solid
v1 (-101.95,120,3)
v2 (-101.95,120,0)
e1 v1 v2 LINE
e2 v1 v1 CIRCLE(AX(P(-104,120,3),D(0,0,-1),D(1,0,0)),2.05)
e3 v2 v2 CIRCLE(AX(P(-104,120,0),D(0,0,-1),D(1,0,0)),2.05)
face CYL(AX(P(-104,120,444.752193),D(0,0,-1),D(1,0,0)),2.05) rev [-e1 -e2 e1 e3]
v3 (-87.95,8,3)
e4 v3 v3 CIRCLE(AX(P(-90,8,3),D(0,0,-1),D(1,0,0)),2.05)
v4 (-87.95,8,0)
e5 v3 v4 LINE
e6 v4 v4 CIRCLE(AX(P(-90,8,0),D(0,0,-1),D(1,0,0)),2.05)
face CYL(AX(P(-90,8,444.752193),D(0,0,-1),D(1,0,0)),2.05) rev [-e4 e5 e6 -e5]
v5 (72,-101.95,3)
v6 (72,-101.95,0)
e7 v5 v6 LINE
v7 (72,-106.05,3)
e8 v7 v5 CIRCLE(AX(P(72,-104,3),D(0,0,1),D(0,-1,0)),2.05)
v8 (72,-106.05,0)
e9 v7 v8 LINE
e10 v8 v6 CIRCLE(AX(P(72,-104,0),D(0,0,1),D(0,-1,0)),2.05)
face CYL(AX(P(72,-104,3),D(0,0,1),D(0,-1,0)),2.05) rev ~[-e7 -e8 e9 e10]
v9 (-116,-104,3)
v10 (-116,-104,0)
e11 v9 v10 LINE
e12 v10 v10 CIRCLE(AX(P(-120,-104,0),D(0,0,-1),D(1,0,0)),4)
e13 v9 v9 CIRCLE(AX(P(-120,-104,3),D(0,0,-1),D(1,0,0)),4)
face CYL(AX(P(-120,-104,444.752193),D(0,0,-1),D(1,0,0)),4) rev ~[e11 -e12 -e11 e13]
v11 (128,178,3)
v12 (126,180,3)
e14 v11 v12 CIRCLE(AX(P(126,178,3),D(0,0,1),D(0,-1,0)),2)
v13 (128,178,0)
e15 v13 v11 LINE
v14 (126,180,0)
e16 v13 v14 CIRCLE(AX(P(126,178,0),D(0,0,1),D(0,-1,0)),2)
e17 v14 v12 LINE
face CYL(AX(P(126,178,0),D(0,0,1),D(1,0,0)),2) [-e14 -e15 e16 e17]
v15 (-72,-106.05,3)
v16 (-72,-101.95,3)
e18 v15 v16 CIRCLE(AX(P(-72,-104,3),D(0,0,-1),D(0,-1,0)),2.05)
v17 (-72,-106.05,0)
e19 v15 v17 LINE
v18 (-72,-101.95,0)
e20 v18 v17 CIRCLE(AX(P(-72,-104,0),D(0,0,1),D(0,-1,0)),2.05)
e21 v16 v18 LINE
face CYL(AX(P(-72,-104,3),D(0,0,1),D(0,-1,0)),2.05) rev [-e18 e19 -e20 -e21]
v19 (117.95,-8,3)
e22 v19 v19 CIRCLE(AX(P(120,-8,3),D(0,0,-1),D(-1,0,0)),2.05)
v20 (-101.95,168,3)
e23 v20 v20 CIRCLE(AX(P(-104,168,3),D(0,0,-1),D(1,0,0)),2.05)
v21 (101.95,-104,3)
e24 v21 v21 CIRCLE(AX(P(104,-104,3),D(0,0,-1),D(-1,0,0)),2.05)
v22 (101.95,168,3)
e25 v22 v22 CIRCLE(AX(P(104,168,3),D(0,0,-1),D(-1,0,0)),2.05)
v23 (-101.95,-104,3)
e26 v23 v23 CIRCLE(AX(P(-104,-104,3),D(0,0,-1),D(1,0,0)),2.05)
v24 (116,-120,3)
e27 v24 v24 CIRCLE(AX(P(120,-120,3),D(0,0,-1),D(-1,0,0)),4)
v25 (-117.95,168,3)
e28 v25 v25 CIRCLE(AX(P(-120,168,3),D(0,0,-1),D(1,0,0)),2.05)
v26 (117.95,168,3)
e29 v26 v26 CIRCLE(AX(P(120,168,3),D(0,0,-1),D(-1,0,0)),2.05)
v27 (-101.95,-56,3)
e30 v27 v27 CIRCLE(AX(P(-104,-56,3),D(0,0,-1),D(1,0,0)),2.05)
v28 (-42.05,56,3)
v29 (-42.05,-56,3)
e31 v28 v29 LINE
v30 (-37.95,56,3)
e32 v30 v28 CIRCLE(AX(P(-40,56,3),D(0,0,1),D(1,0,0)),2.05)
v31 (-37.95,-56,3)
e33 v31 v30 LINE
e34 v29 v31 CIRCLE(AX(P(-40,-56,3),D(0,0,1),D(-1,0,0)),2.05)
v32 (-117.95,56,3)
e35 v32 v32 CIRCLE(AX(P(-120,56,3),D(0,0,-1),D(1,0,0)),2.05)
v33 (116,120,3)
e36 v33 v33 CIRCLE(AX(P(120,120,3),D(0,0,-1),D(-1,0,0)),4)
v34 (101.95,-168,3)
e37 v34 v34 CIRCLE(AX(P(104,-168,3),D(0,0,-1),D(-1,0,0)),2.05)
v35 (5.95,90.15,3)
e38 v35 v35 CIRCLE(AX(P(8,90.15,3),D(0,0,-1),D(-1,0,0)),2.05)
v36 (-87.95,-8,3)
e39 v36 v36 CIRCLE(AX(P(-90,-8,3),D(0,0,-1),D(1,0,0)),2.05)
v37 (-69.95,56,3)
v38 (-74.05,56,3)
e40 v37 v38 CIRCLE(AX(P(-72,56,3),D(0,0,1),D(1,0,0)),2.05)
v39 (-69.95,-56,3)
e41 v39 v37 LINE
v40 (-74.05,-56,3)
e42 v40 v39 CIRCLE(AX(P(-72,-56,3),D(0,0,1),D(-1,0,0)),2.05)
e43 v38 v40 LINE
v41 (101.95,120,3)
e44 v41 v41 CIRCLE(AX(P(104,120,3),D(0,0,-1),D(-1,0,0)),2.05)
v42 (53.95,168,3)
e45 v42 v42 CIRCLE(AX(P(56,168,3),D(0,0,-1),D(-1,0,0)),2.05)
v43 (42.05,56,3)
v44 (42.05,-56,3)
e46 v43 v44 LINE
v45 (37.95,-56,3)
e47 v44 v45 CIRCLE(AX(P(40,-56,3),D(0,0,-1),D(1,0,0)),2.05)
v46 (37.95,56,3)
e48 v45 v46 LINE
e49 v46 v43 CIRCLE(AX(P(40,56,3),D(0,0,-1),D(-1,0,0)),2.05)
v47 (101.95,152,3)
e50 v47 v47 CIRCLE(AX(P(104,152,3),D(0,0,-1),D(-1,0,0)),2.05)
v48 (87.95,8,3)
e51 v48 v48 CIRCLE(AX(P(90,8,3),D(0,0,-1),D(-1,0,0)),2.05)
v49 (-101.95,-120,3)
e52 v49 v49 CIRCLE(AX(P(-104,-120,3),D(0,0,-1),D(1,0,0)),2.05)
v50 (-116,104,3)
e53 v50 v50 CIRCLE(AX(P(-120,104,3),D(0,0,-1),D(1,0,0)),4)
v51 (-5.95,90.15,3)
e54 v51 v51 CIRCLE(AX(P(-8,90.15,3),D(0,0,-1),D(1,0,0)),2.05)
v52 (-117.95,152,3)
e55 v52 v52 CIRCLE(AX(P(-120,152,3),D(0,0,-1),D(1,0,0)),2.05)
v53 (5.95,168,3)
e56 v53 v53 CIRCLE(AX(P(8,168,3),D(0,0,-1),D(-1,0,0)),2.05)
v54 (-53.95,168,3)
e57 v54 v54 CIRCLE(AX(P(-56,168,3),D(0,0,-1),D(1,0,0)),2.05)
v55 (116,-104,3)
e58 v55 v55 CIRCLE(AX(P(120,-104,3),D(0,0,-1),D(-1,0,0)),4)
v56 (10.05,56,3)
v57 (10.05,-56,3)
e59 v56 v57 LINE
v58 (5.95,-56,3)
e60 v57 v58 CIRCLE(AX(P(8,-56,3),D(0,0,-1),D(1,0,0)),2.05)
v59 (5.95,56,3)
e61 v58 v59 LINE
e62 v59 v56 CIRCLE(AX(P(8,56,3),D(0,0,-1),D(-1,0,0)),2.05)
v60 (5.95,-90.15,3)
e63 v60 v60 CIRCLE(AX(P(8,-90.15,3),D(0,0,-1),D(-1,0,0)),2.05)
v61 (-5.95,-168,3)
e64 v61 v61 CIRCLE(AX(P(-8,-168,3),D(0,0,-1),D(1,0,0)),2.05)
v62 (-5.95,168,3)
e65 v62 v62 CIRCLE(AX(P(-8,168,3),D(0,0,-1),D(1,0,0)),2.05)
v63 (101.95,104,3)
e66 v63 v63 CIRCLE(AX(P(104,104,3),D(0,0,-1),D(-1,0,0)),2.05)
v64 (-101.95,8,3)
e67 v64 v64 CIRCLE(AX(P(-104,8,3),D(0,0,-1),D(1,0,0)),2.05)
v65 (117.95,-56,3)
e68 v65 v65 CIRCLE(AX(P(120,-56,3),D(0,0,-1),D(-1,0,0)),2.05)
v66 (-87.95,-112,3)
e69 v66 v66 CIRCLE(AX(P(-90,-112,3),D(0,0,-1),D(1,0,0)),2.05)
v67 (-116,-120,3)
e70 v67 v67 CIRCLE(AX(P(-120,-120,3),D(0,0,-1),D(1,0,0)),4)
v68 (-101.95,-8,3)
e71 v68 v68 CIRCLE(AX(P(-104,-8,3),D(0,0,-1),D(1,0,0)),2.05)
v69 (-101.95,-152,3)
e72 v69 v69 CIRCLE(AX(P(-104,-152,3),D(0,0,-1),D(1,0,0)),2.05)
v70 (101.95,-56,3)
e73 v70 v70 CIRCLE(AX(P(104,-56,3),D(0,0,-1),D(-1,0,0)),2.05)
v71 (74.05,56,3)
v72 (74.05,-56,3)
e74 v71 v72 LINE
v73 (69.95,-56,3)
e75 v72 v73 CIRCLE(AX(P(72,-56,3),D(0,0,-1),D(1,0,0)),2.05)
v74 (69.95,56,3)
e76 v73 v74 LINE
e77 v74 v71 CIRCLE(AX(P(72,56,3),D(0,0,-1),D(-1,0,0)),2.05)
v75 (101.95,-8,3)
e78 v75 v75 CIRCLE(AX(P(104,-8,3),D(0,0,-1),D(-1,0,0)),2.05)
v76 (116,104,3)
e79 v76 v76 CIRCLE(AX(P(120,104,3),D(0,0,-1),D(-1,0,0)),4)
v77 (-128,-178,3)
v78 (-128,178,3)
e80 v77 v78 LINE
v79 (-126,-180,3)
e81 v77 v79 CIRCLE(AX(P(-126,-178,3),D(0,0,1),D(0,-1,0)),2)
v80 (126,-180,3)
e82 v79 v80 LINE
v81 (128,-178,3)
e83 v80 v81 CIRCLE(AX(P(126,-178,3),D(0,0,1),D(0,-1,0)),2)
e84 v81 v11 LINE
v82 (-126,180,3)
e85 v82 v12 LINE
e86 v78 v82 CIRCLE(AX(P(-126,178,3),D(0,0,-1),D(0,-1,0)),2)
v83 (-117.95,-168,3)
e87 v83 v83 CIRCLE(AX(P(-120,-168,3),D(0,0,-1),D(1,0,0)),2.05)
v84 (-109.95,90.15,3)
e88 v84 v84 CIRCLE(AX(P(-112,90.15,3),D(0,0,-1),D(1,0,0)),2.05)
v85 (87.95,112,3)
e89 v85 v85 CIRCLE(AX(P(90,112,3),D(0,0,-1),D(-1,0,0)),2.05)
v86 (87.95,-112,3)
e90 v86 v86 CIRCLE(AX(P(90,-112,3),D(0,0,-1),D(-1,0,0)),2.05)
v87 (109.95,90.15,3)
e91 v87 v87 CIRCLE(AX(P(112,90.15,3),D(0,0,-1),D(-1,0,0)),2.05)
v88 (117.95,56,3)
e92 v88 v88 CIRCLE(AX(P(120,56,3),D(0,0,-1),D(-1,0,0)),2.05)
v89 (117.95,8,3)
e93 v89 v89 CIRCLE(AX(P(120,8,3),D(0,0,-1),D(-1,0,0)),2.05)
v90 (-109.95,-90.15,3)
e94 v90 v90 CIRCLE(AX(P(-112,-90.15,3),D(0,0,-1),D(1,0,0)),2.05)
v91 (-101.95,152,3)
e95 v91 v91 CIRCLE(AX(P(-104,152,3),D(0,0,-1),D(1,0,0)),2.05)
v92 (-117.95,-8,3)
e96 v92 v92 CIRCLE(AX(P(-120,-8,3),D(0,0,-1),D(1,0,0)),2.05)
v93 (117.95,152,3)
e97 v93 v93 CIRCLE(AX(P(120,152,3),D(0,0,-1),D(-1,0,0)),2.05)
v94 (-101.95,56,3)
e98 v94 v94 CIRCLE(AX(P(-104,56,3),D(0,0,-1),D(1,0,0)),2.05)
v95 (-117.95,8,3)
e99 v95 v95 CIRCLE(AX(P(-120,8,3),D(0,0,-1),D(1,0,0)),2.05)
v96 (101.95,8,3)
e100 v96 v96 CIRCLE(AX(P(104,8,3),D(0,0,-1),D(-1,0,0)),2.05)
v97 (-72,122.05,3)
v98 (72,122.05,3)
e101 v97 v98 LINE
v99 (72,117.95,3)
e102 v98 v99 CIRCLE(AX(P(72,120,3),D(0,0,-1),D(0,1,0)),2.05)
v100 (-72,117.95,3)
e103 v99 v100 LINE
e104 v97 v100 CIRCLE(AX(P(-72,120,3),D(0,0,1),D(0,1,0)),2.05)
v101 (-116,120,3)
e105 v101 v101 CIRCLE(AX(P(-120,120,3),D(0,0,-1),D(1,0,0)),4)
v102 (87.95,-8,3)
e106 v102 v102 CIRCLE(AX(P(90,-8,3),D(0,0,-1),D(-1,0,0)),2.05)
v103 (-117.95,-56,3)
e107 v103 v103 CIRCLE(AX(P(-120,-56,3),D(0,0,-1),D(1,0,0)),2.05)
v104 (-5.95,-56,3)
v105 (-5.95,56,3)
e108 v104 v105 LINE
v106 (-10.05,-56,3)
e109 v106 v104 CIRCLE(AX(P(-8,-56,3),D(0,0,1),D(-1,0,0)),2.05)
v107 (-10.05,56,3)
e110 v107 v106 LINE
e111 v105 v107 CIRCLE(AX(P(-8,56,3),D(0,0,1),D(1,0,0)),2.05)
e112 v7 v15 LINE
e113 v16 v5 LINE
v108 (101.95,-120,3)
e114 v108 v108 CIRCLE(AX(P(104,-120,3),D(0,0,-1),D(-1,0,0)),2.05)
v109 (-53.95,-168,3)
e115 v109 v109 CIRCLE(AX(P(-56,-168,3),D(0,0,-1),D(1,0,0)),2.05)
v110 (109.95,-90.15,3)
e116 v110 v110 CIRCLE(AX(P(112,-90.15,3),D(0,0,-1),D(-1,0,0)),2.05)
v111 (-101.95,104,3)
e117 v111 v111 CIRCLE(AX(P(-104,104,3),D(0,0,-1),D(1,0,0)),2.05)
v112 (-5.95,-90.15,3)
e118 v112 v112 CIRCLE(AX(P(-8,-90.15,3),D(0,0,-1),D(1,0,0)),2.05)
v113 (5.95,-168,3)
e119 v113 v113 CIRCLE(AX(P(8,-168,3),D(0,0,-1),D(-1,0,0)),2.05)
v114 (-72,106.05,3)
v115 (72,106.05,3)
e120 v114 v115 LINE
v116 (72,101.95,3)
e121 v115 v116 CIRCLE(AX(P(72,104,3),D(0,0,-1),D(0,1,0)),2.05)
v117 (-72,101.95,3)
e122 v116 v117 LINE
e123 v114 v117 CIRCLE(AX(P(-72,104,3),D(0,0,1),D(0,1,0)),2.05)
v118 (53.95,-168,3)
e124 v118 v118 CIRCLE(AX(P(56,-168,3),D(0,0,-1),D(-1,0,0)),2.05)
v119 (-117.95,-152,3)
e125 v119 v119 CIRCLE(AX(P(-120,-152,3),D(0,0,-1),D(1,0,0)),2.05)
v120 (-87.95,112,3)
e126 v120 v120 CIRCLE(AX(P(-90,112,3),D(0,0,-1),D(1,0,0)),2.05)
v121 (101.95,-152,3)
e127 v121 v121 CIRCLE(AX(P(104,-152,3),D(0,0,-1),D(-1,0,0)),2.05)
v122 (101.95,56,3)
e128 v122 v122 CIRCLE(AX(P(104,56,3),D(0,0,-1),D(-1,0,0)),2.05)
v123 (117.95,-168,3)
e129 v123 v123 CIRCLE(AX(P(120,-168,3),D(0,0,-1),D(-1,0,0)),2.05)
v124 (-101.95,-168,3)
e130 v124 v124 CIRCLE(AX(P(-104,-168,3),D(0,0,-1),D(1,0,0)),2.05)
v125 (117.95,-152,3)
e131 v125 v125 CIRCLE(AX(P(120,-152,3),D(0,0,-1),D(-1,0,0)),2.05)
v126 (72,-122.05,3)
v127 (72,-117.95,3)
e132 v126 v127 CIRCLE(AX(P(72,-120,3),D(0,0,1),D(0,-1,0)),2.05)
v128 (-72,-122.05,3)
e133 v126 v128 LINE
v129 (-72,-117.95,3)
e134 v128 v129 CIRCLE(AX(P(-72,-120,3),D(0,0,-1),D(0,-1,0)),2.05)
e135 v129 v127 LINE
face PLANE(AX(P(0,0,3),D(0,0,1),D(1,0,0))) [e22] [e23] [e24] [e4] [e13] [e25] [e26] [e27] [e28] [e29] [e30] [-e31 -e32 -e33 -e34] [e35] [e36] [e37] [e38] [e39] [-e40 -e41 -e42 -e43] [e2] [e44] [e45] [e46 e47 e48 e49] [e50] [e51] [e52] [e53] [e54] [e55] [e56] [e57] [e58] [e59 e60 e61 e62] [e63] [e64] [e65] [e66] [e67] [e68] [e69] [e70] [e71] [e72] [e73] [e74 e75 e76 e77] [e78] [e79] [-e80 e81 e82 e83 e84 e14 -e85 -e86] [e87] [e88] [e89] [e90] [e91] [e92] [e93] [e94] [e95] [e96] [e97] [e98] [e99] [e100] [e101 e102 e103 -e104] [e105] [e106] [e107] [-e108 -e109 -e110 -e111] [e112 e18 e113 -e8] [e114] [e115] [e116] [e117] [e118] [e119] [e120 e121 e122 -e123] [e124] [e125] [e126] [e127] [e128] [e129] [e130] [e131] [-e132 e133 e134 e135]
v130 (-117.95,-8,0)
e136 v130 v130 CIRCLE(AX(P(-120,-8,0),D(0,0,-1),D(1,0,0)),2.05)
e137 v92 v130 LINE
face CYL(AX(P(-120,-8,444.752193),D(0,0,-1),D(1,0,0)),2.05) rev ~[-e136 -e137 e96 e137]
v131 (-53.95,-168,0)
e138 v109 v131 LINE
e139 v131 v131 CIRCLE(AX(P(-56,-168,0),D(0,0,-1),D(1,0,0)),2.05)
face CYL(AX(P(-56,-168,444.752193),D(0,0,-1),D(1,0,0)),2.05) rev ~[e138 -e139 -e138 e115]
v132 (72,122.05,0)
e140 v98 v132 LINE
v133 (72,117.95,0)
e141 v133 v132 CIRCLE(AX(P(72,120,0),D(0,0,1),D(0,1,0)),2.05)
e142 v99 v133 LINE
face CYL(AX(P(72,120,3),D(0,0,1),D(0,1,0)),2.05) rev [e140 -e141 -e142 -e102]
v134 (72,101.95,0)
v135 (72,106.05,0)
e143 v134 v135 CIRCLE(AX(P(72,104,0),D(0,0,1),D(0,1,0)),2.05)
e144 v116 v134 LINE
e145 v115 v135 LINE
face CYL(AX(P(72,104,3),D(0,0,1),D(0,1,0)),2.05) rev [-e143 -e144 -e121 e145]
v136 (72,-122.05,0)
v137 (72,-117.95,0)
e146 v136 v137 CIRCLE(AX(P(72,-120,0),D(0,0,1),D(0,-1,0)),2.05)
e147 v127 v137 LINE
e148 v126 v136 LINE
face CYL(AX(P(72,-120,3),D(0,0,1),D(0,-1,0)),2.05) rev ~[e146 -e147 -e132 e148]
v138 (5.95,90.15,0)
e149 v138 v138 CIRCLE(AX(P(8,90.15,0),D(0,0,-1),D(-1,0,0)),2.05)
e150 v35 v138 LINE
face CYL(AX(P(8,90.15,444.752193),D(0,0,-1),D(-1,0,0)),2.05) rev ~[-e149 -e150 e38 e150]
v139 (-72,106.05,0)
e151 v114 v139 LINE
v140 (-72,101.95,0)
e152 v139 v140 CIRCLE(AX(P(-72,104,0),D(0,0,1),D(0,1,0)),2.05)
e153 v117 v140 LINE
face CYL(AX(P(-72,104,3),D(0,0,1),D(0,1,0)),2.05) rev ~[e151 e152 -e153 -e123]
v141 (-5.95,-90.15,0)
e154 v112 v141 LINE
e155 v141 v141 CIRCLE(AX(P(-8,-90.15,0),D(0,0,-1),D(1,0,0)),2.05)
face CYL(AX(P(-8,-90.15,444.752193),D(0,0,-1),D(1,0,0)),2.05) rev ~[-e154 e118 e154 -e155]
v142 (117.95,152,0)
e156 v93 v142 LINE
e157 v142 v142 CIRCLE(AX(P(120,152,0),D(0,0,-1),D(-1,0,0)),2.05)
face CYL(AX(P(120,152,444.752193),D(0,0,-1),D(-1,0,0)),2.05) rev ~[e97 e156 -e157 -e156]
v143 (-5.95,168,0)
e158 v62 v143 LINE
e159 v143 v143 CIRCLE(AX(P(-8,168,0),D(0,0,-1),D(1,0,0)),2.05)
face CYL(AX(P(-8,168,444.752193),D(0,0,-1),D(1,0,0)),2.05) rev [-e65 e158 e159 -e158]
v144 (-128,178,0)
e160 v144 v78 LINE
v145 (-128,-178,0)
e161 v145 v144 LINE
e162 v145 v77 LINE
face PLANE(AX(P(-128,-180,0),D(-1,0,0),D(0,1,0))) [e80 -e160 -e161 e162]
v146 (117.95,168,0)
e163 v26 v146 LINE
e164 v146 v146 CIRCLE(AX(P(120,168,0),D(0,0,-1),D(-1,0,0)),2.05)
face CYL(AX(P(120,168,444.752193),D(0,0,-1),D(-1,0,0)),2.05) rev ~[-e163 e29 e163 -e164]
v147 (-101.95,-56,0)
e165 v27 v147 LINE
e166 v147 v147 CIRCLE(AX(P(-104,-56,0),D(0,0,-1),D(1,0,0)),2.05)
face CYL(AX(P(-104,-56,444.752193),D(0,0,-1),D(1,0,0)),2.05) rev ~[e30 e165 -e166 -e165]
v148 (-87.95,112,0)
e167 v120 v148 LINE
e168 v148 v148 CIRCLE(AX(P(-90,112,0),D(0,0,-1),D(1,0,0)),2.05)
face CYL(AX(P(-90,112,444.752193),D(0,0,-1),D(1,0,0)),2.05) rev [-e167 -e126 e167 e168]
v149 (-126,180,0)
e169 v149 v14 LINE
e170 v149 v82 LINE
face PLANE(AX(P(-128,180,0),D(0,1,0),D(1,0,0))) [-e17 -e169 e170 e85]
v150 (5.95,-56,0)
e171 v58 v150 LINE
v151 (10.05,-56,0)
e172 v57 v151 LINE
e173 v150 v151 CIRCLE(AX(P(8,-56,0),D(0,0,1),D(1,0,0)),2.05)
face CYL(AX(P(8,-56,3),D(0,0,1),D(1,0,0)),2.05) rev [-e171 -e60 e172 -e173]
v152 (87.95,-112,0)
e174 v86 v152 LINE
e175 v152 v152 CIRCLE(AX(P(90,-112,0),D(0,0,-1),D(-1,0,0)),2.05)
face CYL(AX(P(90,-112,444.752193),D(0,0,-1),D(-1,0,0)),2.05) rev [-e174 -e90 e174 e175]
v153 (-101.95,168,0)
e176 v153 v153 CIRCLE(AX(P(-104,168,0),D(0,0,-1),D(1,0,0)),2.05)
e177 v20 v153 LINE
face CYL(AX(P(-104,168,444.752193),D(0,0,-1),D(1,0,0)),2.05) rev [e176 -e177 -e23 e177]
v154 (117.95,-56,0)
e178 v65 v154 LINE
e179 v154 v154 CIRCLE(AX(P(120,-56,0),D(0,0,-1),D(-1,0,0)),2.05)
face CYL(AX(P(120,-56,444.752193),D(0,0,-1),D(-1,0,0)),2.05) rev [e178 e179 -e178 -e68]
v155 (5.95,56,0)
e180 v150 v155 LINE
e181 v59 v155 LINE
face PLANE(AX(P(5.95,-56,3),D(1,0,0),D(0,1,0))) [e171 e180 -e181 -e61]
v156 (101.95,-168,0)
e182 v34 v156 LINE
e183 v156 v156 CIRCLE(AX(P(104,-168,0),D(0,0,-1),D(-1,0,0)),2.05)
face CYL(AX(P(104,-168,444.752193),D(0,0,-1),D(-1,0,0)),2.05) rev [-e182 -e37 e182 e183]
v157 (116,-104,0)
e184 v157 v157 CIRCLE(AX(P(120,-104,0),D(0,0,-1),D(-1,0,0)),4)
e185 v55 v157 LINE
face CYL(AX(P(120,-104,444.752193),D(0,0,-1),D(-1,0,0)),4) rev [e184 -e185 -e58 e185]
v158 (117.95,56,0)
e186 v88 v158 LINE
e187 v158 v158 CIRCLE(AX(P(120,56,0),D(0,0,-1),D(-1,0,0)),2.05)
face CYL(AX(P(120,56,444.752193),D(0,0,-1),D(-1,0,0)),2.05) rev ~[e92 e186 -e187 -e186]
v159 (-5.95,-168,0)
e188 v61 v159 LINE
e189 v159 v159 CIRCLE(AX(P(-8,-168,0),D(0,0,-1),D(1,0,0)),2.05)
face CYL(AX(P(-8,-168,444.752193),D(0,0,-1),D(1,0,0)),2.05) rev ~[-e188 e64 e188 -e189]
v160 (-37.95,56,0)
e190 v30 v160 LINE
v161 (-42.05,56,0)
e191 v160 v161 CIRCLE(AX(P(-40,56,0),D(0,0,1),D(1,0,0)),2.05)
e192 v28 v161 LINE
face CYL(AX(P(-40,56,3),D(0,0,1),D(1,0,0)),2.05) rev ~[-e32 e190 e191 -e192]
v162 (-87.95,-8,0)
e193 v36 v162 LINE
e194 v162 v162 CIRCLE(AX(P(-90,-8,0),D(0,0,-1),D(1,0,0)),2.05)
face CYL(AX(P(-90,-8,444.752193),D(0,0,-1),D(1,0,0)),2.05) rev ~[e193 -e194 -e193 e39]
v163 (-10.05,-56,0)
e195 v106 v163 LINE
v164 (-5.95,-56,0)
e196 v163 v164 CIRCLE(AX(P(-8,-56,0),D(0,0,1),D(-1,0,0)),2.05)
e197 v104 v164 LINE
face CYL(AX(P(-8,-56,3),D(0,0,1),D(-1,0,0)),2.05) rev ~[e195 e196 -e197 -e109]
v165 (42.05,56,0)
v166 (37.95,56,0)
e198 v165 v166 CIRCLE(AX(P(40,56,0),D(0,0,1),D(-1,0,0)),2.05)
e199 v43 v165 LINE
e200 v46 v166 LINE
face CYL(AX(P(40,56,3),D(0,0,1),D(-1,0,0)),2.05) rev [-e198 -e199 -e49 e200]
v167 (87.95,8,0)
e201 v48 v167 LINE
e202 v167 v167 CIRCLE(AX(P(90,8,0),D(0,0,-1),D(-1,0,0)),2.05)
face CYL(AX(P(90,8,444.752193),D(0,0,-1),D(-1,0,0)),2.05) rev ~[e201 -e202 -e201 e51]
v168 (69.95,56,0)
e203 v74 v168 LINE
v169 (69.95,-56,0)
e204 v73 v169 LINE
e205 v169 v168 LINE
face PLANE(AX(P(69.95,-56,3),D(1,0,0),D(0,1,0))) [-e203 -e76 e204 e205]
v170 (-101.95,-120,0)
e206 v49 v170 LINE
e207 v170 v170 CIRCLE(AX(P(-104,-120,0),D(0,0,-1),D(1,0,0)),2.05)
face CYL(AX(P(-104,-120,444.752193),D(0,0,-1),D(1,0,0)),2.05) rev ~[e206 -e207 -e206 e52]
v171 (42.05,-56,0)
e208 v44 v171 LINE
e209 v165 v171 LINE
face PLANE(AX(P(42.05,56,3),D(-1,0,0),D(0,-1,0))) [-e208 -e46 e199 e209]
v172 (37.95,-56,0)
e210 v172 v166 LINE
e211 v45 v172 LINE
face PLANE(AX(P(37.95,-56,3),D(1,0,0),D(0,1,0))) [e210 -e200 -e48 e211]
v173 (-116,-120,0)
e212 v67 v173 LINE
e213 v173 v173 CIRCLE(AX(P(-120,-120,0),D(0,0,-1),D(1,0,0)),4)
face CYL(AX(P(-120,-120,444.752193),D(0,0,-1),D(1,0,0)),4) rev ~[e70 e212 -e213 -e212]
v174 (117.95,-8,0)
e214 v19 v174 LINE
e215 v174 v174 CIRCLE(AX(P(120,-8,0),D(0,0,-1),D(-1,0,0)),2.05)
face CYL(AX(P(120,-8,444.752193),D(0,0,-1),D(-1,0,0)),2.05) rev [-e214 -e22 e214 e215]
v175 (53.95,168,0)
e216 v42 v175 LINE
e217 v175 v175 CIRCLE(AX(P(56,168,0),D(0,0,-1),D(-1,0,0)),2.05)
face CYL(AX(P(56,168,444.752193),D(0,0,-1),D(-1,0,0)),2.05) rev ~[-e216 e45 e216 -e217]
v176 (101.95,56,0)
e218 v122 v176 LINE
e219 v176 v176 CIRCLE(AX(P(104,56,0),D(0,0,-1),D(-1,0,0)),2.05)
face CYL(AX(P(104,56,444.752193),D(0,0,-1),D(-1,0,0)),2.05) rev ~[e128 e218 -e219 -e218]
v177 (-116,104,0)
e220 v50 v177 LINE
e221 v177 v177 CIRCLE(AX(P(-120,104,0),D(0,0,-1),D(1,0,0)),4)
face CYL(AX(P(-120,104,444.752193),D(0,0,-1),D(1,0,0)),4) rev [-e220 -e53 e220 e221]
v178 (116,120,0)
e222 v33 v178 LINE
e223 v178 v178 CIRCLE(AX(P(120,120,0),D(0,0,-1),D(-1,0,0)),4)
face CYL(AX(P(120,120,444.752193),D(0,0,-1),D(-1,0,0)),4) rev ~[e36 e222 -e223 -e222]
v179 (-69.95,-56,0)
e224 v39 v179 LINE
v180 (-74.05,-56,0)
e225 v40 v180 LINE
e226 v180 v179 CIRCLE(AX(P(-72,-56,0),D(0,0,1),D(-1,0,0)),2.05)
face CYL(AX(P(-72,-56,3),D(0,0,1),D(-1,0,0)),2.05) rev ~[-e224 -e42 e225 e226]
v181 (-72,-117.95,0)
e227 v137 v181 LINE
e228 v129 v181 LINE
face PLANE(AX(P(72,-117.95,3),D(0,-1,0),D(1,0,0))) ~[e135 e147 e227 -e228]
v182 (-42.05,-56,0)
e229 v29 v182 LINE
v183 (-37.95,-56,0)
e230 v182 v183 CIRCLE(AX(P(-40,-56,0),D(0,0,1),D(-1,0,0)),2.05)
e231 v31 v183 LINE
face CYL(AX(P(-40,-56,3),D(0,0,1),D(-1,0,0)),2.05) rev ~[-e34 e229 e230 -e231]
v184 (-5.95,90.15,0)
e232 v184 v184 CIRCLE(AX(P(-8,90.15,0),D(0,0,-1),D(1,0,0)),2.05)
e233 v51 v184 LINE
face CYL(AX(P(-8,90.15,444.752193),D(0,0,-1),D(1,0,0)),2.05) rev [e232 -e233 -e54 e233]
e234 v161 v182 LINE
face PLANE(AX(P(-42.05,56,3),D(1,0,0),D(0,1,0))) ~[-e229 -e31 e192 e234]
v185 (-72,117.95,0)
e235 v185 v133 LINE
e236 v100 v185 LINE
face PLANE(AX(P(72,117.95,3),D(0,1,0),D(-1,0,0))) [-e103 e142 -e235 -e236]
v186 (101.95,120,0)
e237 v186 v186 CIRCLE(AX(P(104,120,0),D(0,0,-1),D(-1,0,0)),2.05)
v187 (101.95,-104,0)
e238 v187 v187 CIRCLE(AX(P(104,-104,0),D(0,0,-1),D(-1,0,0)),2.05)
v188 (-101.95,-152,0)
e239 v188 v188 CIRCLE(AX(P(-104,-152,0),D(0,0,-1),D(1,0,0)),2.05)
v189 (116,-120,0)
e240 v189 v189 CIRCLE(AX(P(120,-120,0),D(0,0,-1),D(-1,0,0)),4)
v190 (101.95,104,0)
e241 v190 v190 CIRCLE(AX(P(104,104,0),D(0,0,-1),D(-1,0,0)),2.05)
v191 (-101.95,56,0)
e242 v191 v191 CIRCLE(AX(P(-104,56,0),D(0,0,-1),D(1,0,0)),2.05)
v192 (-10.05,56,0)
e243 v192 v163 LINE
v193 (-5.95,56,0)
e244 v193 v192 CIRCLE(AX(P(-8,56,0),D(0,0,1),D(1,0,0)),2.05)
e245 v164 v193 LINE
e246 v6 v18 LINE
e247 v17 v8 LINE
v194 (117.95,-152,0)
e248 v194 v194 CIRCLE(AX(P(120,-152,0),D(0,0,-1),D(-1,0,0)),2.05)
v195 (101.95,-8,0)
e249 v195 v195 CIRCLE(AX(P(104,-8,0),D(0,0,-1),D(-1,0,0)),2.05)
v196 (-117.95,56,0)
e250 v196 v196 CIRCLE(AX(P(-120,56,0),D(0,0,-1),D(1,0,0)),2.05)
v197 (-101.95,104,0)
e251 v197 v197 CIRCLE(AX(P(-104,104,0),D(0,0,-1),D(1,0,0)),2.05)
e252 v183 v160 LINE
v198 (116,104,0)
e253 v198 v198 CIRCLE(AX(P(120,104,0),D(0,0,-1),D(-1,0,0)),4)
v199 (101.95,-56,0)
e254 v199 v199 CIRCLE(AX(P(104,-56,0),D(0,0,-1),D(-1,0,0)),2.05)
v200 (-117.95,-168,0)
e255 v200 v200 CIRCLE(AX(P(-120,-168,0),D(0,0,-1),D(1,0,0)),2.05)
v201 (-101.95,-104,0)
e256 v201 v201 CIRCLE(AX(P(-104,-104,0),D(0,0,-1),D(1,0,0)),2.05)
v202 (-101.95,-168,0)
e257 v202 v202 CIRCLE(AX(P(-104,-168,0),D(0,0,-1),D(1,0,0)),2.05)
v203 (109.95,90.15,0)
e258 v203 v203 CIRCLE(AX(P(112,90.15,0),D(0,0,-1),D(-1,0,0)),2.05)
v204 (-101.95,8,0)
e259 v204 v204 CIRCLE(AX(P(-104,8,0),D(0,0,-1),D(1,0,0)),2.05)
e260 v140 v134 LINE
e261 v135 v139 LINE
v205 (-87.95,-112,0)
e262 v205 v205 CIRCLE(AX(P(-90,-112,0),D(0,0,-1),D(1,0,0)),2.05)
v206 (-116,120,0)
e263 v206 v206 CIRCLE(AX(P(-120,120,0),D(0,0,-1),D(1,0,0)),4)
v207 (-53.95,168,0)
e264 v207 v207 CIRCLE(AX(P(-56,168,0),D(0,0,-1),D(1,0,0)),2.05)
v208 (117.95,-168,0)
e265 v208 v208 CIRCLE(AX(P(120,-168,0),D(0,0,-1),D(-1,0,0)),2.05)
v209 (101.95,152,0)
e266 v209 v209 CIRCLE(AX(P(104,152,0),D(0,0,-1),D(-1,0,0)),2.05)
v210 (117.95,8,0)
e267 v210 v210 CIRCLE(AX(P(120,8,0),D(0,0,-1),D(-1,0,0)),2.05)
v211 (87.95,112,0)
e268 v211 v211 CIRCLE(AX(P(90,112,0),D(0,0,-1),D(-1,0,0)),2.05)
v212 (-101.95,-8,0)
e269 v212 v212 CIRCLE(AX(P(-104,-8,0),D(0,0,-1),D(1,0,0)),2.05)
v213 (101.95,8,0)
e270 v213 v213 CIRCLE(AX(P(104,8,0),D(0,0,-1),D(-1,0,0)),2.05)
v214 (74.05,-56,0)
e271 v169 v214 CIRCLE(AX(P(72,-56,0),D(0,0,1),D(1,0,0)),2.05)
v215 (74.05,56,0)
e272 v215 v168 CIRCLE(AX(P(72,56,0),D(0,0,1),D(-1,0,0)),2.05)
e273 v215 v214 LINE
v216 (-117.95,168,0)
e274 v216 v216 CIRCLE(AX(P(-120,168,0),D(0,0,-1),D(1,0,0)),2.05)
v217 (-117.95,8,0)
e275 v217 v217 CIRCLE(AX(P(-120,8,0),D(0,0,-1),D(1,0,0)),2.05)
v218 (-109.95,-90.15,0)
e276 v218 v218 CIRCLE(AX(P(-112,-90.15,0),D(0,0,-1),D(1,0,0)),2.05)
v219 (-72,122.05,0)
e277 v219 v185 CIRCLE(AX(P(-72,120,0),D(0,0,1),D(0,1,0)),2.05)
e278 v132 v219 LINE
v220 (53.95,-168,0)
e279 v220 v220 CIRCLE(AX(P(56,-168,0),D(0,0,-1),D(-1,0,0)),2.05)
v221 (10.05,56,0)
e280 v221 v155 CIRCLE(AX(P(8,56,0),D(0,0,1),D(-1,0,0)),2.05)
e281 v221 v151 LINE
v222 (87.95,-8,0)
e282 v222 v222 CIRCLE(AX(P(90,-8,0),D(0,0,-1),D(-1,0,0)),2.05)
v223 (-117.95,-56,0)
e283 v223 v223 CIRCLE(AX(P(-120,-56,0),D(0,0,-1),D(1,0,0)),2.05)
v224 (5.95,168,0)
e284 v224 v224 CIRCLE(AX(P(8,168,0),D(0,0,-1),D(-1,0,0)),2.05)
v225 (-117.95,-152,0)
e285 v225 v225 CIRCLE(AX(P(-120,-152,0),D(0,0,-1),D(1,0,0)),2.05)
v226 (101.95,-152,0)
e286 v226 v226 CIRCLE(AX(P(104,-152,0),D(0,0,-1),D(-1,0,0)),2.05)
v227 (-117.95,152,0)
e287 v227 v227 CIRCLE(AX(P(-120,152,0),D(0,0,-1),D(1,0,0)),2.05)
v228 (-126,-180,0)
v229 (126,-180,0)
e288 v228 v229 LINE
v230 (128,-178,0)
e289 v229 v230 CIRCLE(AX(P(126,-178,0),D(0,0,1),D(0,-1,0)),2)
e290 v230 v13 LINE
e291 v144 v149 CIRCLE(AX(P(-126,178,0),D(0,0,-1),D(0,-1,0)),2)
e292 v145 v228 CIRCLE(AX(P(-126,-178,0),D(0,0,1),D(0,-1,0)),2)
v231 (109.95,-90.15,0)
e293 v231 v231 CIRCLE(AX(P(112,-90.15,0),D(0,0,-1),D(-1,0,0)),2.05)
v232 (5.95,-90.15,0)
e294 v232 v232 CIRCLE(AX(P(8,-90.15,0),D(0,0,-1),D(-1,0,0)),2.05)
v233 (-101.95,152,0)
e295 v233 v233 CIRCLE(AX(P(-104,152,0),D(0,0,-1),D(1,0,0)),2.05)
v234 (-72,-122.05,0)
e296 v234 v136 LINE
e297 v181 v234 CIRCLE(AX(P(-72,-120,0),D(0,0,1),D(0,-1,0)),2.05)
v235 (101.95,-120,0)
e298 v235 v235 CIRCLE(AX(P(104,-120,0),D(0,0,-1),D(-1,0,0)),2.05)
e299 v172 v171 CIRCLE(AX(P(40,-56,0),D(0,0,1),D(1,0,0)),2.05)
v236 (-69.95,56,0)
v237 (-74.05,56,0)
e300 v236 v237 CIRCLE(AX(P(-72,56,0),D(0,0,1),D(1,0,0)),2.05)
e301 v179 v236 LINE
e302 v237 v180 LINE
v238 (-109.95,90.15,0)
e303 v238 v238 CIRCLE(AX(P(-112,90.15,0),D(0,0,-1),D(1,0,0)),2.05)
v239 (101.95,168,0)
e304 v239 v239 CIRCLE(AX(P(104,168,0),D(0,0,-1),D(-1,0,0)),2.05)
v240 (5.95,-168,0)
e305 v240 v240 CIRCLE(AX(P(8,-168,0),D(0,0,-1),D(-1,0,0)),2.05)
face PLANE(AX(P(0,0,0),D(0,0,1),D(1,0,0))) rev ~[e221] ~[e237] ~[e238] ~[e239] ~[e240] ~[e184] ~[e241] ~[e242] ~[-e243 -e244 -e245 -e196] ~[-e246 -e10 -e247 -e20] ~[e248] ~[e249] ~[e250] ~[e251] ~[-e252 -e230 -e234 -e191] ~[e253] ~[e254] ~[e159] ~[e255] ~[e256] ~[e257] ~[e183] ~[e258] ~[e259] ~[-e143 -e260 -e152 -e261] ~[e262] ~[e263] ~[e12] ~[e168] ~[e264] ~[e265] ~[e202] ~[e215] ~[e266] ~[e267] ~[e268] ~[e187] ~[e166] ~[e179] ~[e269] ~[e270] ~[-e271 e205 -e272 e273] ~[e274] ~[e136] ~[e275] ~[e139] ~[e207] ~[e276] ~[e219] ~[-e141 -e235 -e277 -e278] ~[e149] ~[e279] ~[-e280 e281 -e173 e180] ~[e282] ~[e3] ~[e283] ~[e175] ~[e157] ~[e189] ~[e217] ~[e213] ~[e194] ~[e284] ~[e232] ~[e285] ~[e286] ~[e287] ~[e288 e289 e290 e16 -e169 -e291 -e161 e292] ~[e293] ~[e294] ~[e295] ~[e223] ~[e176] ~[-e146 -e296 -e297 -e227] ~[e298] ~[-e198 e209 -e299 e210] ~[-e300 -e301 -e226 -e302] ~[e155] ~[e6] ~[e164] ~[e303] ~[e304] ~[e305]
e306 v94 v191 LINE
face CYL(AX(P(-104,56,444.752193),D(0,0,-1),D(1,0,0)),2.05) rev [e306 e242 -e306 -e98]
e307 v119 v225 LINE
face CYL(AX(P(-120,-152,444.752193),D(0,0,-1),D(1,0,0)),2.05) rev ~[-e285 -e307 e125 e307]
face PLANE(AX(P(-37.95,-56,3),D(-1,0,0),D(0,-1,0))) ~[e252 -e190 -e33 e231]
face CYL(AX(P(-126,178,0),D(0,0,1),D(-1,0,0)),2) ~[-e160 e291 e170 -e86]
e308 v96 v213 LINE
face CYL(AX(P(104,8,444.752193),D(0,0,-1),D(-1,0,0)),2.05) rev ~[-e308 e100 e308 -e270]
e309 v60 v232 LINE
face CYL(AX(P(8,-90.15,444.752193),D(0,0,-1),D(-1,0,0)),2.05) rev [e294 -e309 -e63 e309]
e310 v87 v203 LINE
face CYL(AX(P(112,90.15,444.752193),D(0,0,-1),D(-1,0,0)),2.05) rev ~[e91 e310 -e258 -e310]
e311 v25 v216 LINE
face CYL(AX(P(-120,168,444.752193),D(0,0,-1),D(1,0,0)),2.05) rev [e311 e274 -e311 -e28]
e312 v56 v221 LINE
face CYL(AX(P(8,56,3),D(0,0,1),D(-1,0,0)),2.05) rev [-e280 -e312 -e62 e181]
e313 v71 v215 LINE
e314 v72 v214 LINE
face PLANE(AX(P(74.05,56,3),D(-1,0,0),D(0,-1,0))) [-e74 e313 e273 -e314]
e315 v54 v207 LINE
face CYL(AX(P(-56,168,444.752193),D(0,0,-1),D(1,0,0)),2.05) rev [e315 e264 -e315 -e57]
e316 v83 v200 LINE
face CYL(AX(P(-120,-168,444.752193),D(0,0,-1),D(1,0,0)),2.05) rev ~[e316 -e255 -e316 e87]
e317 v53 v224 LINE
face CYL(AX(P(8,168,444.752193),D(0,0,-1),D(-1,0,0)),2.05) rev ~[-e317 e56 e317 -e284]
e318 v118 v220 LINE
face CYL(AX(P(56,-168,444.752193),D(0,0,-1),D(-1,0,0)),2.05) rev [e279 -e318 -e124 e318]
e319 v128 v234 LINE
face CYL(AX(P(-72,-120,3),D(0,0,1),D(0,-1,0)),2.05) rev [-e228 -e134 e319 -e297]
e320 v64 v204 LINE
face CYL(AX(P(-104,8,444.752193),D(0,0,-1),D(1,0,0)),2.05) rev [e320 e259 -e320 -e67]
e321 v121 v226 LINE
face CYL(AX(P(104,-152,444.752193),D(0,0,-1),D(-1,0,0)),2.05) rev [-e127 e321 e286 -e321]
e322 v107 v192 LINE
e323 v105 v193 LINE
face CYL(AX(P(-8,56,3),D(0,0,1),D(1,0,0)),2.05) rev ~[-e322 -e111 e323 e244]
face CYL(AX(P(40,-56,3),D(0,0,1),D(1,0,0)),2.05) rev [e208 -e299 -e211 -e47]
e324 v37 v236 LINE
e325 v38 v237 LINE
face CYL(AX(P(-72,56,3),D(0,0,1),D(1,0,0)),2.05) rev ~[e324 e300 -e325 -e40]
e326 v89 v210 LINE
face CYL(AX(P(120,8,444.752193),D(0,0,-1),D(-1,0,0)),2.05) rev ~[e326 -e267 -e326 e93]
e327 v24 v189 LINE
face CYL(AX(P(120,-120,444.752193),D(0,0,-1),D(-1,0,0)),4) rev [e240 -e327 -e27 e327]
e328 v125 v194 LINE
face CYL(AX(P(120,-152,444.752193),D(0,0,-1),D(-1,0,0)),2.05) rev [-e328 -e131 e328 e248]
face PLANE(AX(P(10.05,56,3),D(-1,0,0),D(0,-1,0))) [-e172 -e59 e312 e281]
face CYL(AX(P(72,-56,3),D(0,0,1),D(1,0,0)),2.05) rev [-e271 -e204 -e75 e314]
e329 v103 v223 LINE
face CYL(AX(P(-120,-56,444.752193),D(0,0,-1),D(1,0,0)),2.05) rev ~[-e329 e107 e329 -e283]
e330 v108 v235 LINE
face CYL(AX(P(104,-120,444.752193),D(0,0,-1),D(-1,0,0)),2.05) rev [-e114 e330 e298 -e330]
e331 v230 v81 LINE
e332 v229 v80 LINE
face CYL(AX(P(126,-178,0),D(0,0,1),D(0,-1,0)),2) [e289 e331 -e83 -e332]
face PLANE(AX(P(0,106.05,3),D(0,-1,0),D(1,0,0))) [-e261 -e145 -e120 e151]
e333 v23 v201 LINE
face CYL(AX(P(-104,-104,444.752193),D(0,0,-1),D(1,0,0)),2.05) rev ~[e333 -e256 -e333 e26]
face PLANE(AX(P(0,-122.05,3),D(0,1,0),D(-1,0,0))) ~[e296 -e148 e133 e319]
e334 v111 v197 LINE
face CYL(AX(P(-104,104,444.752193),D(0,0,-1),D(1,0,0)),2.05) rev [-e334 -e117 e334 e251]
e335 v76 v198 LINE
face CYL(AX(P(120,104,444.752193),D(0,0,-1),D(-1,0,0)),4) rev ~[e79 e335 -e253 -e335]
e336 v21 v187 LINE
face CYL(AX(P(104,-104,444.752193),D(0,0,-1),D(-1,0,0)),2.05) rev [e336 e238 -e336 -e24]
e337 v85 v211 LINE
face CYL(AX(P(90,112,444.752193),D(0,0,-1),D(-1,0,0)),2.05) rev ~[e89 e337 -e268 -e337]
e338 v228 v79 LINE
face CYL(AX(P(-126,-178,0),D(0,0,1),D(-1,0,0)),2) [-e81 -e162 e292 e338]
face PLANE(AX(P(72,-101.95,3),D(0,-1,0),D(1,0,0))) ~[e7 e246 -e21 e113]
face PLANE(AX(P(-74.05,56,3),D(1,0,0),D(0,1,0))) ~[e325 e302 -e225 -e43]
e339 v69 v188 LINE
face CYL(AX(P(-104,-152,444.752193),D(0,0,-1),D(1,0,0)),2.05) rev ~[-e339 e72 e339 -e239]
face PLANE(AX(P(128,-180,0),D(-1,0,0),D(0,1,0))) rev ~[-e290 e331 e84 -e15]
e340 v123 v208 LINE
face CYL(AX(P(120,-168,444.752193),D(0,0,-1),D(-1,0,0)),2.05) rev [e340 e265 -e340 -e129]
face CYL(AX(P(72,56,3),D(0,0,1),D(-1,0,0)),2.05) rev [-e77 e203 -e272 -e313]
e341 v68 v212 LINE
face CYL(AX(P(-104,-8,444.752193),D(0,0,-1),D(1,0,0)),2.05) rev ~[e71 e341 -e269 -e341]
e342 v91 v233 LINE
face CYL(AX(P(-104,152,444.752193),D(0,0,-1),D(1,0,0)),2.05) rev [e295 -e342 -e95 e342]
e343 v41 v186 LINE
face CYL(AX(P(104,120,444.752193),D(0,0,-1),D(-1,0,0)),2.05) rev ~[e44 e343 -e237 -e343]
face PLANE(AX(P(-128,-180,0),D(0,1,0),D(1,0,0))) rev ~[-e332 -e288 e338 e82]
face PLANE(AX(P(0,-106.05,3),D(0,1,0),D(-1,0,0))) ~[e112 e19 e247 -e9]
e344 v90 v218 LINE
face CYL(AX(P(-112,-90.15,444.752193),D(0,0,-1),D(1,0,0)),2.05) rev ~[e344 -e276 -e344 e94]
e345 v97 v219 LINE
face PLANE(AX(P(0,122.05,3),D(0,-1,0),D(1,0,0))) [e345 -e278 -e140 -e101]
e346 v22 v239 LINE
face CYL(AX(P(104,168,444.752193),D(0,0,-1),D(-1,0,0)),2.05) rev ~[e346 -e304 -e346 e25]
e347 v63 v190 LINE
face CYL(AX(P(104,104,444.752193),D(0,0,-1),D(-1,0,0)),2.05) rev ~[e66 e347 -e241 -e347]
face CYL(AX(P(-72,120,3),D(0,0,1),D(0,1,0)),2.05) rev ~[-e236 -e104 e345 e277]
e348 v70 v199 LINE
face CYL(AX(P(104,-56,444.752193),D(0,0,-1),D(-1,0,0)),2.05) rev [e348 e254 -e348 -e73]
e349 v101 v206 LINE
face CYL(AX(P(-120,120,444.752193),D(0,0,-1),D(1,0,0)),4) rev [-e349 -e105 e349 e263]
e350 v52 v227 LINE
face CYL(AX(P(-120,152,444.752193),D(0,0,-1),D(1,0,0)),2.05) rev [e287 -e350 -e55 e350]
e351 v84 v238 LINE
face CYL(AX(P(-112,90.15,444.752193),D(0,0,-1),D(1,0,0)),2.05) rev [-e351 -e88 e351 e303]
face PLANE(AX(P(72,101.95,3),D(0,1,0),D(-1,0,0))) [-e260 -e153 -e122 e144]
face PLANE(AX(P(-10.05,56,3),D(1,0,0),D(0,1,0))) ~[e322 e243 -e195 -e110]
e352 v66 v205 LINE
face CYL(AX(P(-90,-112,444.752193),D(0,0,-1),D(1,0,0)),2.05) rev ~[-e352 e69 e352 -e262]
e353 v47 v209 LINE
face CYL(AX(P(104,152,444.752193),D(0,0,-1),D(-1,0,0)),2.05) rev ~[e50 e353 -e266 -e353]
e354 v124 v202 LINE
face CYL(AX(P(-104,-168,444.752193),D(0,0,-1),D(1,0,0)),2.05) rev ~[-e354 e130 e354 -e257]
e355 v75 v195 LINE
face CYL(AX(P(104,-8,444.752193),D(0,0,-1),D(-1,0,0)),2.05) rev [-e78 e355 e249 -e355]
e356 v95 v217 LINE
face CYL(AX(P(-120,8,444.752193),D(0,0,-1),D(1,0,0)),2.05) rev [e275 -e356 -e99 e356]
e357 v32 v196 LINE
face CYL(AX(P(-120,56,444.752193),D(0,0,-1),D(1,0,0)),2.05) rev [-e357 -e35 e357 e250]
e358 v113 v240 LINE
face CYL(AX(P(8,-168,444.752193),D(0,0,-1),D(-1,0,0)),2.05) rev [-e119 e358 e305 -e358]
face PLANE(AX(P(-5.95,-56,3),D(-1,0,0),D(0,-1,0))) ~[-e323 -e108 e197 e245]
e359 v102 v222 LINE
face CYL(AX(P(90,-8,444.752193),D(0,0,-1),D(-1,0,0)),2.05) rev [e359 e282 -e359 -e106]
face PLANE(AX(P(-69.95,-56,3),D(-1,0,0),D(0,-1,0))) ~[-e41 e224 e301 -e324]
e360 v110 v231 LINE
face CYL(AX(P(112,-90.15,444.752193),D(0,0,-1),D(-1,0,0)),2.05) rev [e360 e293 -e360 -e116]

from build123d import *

# Parameters (mm, degrees)
SKETCH1_W                  = 256
SKETCH1_H                  = 360
BOSS_EXTRUDE1_DEPTH        = 3
FILLET1_R                  = 2
F_4_1_4_1_DIAMETER_HOLE1_D = 4.1
F_8_0_8_DIAMETER_HOLE1_D   = 8
CUT_EXTRUDE1_DEPTH         = 221.89137602
MIRROR2_COPY_1_D           = 4.1
MIRROR2_COPY_2_D           = 8
MIRROR2_COPY_3_DEPTH       = 221.89137602


with BuildPart() as part:
    # Sketch1 → Boss-Extrude1 (new body)
    with BuildSketch(Plane.XY):
        Rectangle(SKETCH1_W, SKETCH1_H)
    extrude(amount=BOSS_EXTRUDE1_DEPTH)

    # Fillet1
    fillet1_edges = [part.edges().sort_by_distance(p)[0] for p in [
        (128, -180, 1.5),
        (-128, -180, 1.5),
        (-128, 180, 1.5),
        (128, 180, 1.5),
    ]]
    fillet(fillet1_edges, radius=FILLET1_R)

    # Ø4.1 (4.1) Diameter Hole1 (through all)
    with Locations(Plane.XY.offset(3)):
        with Locations((90, 8), (120, 8), (104, 8), (104, 56), (120, 56), (104, 104), (112, 90.15), (104, 120), (90, 112), (104, 152), (120, 152), (120, 168), (104, 168), (8, 168), (56, 168), (8, 90.15)):
            f_4_1_4_1_diameter_hole1 = Hole(F_4_1_4_1_DIAMETER_HOLE1_D / 2)

    # Ø8.0 (8) Diameter Hole1 (through all)
    with Locations(Plane.XY.offset(3)):
        with Locations((120, 120), (120, 104)):
            f_8_0_8_diameter_hole1 = Hole(F_8_0_8_DIAMETER_HOLE1_D / 2)

    # Sketch9 → Cut-Extrude1 (cut, through all)
    with BuildSketch(Plane.XY.offset(3)):
        with BuildLine():
            Line((0, 106.05), (72, 106.05))
            ThreePointArc((72, 106.05), (74.05, 104), (72, 101.95))
            Line((72, 101.95), (0, 101.95))
            Line((0, 101.95), (0, 106.05))
        make_face()
        with BuildLine():
            Line((0, 122.05), (72, 122.05))
            ThreePointArc((72, 122.05), (74.05, 120), (72, 117.95))
            Line((72, 117.95), (0, 117.95))
            Line((0, 117.95), (0, 122.05))
        make_face()
        with BuildLine():
            Line((5.95, -56), (5.95, 56))
            ThreePointArc((5.95, 56), (8, 58.05), (10.05, 56))
            Line((10.05, 56), (10.05, -56))
            ThreePointArc((10.05, -56), (8, -58.05), (5.95, -56))
        make_face()
        with BuildLine():
            Line((37.95, -56), (37.95, 56))
            ThreePointArc((37.95, 56), (40, 58.05), (42.05, 56))
            Line((42.05, 56), (42.05, -56))
            ThreePointArc((42.05, -56), (40, -58.05), (37.95, -56))
        make_face()
        with BuildLine():
            Line((69.95, -56), (69.95, 56))
            ThreePointArc((69.95, 56), (72, 58.05), (74.05, 56))
            Line((74.05, 56), (74.05, -56))
            ThreePointArc((74.05, -56), (72, -58.05), (69.95, -56))
        make_face()
    cut_extrude1 = extrude(amount=-CUT_EXTRUDE1_DEPTH, mode=Mode.SUBTRACT)

    # Mirror1: Ø4.1 (4.1) Diameter Hole1, Ø8.0 (8) Diameter Hole1, Cut-Extrude1 across plane
    add(f_4_1_4_1_diameter_hole1.mirror(Plane.ZX), mode=Mode.SUBTRACT)
    add(f_8_0_8_diameter_hole1.mirror(Plane.ZX), mode=Mode.SUBTRACT)
    add(cut_extrude1.mirror(Plane.ZX), mode=Mode.SUBTRACT)

    # Mirror2: Ø4.1 (4.1) Diameter Hole1, Ø8.0 (8) Diameter Hole1, Cut-Extrude1 across plane
    add(f_4_1_4_1_diameter_hole1.mirror(Plane(origin=(0, 0, 0), x_dir=(0, 0, 1), z_dir=(1, 0, 0))), mode=Mode.SUBTRACT)
    add(f_8_0_8_diameter_hole1.mirror(Plane(origin=(0, 0, 0), x_dir=(0, 0, 1), z_dir=(1, 0, 0))), mode=Mode.SUBTRACT)
    add(cut_extrude1.mirror(Plane(origin=(0, 0, 0), x_dir=(0, 0, 1), z_dir=(1, 0, 0))), mode=Mode.SUBTRACT)

    # Mirror2 copy 1 (through all)
    with Locations(Plane(origin=(0, 0, 3), x_dir=(-1, 0, 0), z_dir=(0, 0, 1))):
        with Locations((90, 8), (120, 8), (104, 8), (104, 56), (120, 56), (104, 104), (112, 90.15), (104, 120), (90, 112), (104, 152), (120, 152), (120, 168), (104, 168), (8, 168), (56, 168), (8, 90.15)):
            Hole(MIRROR2_COPY_1_D / 2)

    # Mirror2 copy 2 (through all)
    with Locations(Plane(origin=(0, 0, 3), x_dir=(-1, 0, 0), z_dir=(0, 0, 1))):
        with Locations((120, 120), (120, 104)):
            Hole(MIRROR2_COPY_2_D / 2)

    # Mirror2 copy 3 sketch → Mirror2 copy 3 (cut, through all)
    with BuildSketch(Plane(origin=(0, 0, 3), x_dir=(-1, 0, 0), z_dir=(0, 0, 1))):
        with BuildLine():
            Line((0, 106.05), (72, 106.05))
            ThreePointArc((72, 106.05), (74.05, 104), (72, 101.95))
            Line((72, 101.95), (0, 101.95))
            Line((0, 101.95), (0, 106.05))
        make_face()
        with BuildLine():
            Line((0, 122.05), (72, 122.05))
            ThreePointArc((72, 122.05), (74.05, 120), (72, 117.95))
            Line((72, 117.95), (0, 117.95))
            Line((0, 117.95), (0, 122.05))
        make_face()
        with BuildLine():
            Line((5.95, -56), (5.95, 56))
            ThreePointArc((5.95, 56), (8, 58.05), (10.05, 56))
            Line((10.05, 56), (10.05, -56))
            ThreePointArc((10.05, -56), (8, -58.05), (5.95, -56))
        make_face()
        with BuildLine():
            Line((37.95, -56), (37.95, 56))
            ThreePointArc((37.95, 56), (40, 58.05), (42.05, 56))
            Line((42.05, 56), (42.05, -56))
            ThreePointArc((42.05, -56), (40, -58.05), (37.95, -56))
        make_face()
        with BuildLine():
            Line((69.95, -56), (69.95, 56))
            ThreePointArc((69.95, 56), (72, 58.05), (74.05, 56))
            Line((74.05, 56), (74.05, -56))
            ThreePointArc((74.05, -56), (72, -58.05), (69.95, -56))
        make_face()
    extrude(amount=-MIRROR2_COPY_3_DEPTH, mode=Mode.SUBTRACT)


solid = part.part
